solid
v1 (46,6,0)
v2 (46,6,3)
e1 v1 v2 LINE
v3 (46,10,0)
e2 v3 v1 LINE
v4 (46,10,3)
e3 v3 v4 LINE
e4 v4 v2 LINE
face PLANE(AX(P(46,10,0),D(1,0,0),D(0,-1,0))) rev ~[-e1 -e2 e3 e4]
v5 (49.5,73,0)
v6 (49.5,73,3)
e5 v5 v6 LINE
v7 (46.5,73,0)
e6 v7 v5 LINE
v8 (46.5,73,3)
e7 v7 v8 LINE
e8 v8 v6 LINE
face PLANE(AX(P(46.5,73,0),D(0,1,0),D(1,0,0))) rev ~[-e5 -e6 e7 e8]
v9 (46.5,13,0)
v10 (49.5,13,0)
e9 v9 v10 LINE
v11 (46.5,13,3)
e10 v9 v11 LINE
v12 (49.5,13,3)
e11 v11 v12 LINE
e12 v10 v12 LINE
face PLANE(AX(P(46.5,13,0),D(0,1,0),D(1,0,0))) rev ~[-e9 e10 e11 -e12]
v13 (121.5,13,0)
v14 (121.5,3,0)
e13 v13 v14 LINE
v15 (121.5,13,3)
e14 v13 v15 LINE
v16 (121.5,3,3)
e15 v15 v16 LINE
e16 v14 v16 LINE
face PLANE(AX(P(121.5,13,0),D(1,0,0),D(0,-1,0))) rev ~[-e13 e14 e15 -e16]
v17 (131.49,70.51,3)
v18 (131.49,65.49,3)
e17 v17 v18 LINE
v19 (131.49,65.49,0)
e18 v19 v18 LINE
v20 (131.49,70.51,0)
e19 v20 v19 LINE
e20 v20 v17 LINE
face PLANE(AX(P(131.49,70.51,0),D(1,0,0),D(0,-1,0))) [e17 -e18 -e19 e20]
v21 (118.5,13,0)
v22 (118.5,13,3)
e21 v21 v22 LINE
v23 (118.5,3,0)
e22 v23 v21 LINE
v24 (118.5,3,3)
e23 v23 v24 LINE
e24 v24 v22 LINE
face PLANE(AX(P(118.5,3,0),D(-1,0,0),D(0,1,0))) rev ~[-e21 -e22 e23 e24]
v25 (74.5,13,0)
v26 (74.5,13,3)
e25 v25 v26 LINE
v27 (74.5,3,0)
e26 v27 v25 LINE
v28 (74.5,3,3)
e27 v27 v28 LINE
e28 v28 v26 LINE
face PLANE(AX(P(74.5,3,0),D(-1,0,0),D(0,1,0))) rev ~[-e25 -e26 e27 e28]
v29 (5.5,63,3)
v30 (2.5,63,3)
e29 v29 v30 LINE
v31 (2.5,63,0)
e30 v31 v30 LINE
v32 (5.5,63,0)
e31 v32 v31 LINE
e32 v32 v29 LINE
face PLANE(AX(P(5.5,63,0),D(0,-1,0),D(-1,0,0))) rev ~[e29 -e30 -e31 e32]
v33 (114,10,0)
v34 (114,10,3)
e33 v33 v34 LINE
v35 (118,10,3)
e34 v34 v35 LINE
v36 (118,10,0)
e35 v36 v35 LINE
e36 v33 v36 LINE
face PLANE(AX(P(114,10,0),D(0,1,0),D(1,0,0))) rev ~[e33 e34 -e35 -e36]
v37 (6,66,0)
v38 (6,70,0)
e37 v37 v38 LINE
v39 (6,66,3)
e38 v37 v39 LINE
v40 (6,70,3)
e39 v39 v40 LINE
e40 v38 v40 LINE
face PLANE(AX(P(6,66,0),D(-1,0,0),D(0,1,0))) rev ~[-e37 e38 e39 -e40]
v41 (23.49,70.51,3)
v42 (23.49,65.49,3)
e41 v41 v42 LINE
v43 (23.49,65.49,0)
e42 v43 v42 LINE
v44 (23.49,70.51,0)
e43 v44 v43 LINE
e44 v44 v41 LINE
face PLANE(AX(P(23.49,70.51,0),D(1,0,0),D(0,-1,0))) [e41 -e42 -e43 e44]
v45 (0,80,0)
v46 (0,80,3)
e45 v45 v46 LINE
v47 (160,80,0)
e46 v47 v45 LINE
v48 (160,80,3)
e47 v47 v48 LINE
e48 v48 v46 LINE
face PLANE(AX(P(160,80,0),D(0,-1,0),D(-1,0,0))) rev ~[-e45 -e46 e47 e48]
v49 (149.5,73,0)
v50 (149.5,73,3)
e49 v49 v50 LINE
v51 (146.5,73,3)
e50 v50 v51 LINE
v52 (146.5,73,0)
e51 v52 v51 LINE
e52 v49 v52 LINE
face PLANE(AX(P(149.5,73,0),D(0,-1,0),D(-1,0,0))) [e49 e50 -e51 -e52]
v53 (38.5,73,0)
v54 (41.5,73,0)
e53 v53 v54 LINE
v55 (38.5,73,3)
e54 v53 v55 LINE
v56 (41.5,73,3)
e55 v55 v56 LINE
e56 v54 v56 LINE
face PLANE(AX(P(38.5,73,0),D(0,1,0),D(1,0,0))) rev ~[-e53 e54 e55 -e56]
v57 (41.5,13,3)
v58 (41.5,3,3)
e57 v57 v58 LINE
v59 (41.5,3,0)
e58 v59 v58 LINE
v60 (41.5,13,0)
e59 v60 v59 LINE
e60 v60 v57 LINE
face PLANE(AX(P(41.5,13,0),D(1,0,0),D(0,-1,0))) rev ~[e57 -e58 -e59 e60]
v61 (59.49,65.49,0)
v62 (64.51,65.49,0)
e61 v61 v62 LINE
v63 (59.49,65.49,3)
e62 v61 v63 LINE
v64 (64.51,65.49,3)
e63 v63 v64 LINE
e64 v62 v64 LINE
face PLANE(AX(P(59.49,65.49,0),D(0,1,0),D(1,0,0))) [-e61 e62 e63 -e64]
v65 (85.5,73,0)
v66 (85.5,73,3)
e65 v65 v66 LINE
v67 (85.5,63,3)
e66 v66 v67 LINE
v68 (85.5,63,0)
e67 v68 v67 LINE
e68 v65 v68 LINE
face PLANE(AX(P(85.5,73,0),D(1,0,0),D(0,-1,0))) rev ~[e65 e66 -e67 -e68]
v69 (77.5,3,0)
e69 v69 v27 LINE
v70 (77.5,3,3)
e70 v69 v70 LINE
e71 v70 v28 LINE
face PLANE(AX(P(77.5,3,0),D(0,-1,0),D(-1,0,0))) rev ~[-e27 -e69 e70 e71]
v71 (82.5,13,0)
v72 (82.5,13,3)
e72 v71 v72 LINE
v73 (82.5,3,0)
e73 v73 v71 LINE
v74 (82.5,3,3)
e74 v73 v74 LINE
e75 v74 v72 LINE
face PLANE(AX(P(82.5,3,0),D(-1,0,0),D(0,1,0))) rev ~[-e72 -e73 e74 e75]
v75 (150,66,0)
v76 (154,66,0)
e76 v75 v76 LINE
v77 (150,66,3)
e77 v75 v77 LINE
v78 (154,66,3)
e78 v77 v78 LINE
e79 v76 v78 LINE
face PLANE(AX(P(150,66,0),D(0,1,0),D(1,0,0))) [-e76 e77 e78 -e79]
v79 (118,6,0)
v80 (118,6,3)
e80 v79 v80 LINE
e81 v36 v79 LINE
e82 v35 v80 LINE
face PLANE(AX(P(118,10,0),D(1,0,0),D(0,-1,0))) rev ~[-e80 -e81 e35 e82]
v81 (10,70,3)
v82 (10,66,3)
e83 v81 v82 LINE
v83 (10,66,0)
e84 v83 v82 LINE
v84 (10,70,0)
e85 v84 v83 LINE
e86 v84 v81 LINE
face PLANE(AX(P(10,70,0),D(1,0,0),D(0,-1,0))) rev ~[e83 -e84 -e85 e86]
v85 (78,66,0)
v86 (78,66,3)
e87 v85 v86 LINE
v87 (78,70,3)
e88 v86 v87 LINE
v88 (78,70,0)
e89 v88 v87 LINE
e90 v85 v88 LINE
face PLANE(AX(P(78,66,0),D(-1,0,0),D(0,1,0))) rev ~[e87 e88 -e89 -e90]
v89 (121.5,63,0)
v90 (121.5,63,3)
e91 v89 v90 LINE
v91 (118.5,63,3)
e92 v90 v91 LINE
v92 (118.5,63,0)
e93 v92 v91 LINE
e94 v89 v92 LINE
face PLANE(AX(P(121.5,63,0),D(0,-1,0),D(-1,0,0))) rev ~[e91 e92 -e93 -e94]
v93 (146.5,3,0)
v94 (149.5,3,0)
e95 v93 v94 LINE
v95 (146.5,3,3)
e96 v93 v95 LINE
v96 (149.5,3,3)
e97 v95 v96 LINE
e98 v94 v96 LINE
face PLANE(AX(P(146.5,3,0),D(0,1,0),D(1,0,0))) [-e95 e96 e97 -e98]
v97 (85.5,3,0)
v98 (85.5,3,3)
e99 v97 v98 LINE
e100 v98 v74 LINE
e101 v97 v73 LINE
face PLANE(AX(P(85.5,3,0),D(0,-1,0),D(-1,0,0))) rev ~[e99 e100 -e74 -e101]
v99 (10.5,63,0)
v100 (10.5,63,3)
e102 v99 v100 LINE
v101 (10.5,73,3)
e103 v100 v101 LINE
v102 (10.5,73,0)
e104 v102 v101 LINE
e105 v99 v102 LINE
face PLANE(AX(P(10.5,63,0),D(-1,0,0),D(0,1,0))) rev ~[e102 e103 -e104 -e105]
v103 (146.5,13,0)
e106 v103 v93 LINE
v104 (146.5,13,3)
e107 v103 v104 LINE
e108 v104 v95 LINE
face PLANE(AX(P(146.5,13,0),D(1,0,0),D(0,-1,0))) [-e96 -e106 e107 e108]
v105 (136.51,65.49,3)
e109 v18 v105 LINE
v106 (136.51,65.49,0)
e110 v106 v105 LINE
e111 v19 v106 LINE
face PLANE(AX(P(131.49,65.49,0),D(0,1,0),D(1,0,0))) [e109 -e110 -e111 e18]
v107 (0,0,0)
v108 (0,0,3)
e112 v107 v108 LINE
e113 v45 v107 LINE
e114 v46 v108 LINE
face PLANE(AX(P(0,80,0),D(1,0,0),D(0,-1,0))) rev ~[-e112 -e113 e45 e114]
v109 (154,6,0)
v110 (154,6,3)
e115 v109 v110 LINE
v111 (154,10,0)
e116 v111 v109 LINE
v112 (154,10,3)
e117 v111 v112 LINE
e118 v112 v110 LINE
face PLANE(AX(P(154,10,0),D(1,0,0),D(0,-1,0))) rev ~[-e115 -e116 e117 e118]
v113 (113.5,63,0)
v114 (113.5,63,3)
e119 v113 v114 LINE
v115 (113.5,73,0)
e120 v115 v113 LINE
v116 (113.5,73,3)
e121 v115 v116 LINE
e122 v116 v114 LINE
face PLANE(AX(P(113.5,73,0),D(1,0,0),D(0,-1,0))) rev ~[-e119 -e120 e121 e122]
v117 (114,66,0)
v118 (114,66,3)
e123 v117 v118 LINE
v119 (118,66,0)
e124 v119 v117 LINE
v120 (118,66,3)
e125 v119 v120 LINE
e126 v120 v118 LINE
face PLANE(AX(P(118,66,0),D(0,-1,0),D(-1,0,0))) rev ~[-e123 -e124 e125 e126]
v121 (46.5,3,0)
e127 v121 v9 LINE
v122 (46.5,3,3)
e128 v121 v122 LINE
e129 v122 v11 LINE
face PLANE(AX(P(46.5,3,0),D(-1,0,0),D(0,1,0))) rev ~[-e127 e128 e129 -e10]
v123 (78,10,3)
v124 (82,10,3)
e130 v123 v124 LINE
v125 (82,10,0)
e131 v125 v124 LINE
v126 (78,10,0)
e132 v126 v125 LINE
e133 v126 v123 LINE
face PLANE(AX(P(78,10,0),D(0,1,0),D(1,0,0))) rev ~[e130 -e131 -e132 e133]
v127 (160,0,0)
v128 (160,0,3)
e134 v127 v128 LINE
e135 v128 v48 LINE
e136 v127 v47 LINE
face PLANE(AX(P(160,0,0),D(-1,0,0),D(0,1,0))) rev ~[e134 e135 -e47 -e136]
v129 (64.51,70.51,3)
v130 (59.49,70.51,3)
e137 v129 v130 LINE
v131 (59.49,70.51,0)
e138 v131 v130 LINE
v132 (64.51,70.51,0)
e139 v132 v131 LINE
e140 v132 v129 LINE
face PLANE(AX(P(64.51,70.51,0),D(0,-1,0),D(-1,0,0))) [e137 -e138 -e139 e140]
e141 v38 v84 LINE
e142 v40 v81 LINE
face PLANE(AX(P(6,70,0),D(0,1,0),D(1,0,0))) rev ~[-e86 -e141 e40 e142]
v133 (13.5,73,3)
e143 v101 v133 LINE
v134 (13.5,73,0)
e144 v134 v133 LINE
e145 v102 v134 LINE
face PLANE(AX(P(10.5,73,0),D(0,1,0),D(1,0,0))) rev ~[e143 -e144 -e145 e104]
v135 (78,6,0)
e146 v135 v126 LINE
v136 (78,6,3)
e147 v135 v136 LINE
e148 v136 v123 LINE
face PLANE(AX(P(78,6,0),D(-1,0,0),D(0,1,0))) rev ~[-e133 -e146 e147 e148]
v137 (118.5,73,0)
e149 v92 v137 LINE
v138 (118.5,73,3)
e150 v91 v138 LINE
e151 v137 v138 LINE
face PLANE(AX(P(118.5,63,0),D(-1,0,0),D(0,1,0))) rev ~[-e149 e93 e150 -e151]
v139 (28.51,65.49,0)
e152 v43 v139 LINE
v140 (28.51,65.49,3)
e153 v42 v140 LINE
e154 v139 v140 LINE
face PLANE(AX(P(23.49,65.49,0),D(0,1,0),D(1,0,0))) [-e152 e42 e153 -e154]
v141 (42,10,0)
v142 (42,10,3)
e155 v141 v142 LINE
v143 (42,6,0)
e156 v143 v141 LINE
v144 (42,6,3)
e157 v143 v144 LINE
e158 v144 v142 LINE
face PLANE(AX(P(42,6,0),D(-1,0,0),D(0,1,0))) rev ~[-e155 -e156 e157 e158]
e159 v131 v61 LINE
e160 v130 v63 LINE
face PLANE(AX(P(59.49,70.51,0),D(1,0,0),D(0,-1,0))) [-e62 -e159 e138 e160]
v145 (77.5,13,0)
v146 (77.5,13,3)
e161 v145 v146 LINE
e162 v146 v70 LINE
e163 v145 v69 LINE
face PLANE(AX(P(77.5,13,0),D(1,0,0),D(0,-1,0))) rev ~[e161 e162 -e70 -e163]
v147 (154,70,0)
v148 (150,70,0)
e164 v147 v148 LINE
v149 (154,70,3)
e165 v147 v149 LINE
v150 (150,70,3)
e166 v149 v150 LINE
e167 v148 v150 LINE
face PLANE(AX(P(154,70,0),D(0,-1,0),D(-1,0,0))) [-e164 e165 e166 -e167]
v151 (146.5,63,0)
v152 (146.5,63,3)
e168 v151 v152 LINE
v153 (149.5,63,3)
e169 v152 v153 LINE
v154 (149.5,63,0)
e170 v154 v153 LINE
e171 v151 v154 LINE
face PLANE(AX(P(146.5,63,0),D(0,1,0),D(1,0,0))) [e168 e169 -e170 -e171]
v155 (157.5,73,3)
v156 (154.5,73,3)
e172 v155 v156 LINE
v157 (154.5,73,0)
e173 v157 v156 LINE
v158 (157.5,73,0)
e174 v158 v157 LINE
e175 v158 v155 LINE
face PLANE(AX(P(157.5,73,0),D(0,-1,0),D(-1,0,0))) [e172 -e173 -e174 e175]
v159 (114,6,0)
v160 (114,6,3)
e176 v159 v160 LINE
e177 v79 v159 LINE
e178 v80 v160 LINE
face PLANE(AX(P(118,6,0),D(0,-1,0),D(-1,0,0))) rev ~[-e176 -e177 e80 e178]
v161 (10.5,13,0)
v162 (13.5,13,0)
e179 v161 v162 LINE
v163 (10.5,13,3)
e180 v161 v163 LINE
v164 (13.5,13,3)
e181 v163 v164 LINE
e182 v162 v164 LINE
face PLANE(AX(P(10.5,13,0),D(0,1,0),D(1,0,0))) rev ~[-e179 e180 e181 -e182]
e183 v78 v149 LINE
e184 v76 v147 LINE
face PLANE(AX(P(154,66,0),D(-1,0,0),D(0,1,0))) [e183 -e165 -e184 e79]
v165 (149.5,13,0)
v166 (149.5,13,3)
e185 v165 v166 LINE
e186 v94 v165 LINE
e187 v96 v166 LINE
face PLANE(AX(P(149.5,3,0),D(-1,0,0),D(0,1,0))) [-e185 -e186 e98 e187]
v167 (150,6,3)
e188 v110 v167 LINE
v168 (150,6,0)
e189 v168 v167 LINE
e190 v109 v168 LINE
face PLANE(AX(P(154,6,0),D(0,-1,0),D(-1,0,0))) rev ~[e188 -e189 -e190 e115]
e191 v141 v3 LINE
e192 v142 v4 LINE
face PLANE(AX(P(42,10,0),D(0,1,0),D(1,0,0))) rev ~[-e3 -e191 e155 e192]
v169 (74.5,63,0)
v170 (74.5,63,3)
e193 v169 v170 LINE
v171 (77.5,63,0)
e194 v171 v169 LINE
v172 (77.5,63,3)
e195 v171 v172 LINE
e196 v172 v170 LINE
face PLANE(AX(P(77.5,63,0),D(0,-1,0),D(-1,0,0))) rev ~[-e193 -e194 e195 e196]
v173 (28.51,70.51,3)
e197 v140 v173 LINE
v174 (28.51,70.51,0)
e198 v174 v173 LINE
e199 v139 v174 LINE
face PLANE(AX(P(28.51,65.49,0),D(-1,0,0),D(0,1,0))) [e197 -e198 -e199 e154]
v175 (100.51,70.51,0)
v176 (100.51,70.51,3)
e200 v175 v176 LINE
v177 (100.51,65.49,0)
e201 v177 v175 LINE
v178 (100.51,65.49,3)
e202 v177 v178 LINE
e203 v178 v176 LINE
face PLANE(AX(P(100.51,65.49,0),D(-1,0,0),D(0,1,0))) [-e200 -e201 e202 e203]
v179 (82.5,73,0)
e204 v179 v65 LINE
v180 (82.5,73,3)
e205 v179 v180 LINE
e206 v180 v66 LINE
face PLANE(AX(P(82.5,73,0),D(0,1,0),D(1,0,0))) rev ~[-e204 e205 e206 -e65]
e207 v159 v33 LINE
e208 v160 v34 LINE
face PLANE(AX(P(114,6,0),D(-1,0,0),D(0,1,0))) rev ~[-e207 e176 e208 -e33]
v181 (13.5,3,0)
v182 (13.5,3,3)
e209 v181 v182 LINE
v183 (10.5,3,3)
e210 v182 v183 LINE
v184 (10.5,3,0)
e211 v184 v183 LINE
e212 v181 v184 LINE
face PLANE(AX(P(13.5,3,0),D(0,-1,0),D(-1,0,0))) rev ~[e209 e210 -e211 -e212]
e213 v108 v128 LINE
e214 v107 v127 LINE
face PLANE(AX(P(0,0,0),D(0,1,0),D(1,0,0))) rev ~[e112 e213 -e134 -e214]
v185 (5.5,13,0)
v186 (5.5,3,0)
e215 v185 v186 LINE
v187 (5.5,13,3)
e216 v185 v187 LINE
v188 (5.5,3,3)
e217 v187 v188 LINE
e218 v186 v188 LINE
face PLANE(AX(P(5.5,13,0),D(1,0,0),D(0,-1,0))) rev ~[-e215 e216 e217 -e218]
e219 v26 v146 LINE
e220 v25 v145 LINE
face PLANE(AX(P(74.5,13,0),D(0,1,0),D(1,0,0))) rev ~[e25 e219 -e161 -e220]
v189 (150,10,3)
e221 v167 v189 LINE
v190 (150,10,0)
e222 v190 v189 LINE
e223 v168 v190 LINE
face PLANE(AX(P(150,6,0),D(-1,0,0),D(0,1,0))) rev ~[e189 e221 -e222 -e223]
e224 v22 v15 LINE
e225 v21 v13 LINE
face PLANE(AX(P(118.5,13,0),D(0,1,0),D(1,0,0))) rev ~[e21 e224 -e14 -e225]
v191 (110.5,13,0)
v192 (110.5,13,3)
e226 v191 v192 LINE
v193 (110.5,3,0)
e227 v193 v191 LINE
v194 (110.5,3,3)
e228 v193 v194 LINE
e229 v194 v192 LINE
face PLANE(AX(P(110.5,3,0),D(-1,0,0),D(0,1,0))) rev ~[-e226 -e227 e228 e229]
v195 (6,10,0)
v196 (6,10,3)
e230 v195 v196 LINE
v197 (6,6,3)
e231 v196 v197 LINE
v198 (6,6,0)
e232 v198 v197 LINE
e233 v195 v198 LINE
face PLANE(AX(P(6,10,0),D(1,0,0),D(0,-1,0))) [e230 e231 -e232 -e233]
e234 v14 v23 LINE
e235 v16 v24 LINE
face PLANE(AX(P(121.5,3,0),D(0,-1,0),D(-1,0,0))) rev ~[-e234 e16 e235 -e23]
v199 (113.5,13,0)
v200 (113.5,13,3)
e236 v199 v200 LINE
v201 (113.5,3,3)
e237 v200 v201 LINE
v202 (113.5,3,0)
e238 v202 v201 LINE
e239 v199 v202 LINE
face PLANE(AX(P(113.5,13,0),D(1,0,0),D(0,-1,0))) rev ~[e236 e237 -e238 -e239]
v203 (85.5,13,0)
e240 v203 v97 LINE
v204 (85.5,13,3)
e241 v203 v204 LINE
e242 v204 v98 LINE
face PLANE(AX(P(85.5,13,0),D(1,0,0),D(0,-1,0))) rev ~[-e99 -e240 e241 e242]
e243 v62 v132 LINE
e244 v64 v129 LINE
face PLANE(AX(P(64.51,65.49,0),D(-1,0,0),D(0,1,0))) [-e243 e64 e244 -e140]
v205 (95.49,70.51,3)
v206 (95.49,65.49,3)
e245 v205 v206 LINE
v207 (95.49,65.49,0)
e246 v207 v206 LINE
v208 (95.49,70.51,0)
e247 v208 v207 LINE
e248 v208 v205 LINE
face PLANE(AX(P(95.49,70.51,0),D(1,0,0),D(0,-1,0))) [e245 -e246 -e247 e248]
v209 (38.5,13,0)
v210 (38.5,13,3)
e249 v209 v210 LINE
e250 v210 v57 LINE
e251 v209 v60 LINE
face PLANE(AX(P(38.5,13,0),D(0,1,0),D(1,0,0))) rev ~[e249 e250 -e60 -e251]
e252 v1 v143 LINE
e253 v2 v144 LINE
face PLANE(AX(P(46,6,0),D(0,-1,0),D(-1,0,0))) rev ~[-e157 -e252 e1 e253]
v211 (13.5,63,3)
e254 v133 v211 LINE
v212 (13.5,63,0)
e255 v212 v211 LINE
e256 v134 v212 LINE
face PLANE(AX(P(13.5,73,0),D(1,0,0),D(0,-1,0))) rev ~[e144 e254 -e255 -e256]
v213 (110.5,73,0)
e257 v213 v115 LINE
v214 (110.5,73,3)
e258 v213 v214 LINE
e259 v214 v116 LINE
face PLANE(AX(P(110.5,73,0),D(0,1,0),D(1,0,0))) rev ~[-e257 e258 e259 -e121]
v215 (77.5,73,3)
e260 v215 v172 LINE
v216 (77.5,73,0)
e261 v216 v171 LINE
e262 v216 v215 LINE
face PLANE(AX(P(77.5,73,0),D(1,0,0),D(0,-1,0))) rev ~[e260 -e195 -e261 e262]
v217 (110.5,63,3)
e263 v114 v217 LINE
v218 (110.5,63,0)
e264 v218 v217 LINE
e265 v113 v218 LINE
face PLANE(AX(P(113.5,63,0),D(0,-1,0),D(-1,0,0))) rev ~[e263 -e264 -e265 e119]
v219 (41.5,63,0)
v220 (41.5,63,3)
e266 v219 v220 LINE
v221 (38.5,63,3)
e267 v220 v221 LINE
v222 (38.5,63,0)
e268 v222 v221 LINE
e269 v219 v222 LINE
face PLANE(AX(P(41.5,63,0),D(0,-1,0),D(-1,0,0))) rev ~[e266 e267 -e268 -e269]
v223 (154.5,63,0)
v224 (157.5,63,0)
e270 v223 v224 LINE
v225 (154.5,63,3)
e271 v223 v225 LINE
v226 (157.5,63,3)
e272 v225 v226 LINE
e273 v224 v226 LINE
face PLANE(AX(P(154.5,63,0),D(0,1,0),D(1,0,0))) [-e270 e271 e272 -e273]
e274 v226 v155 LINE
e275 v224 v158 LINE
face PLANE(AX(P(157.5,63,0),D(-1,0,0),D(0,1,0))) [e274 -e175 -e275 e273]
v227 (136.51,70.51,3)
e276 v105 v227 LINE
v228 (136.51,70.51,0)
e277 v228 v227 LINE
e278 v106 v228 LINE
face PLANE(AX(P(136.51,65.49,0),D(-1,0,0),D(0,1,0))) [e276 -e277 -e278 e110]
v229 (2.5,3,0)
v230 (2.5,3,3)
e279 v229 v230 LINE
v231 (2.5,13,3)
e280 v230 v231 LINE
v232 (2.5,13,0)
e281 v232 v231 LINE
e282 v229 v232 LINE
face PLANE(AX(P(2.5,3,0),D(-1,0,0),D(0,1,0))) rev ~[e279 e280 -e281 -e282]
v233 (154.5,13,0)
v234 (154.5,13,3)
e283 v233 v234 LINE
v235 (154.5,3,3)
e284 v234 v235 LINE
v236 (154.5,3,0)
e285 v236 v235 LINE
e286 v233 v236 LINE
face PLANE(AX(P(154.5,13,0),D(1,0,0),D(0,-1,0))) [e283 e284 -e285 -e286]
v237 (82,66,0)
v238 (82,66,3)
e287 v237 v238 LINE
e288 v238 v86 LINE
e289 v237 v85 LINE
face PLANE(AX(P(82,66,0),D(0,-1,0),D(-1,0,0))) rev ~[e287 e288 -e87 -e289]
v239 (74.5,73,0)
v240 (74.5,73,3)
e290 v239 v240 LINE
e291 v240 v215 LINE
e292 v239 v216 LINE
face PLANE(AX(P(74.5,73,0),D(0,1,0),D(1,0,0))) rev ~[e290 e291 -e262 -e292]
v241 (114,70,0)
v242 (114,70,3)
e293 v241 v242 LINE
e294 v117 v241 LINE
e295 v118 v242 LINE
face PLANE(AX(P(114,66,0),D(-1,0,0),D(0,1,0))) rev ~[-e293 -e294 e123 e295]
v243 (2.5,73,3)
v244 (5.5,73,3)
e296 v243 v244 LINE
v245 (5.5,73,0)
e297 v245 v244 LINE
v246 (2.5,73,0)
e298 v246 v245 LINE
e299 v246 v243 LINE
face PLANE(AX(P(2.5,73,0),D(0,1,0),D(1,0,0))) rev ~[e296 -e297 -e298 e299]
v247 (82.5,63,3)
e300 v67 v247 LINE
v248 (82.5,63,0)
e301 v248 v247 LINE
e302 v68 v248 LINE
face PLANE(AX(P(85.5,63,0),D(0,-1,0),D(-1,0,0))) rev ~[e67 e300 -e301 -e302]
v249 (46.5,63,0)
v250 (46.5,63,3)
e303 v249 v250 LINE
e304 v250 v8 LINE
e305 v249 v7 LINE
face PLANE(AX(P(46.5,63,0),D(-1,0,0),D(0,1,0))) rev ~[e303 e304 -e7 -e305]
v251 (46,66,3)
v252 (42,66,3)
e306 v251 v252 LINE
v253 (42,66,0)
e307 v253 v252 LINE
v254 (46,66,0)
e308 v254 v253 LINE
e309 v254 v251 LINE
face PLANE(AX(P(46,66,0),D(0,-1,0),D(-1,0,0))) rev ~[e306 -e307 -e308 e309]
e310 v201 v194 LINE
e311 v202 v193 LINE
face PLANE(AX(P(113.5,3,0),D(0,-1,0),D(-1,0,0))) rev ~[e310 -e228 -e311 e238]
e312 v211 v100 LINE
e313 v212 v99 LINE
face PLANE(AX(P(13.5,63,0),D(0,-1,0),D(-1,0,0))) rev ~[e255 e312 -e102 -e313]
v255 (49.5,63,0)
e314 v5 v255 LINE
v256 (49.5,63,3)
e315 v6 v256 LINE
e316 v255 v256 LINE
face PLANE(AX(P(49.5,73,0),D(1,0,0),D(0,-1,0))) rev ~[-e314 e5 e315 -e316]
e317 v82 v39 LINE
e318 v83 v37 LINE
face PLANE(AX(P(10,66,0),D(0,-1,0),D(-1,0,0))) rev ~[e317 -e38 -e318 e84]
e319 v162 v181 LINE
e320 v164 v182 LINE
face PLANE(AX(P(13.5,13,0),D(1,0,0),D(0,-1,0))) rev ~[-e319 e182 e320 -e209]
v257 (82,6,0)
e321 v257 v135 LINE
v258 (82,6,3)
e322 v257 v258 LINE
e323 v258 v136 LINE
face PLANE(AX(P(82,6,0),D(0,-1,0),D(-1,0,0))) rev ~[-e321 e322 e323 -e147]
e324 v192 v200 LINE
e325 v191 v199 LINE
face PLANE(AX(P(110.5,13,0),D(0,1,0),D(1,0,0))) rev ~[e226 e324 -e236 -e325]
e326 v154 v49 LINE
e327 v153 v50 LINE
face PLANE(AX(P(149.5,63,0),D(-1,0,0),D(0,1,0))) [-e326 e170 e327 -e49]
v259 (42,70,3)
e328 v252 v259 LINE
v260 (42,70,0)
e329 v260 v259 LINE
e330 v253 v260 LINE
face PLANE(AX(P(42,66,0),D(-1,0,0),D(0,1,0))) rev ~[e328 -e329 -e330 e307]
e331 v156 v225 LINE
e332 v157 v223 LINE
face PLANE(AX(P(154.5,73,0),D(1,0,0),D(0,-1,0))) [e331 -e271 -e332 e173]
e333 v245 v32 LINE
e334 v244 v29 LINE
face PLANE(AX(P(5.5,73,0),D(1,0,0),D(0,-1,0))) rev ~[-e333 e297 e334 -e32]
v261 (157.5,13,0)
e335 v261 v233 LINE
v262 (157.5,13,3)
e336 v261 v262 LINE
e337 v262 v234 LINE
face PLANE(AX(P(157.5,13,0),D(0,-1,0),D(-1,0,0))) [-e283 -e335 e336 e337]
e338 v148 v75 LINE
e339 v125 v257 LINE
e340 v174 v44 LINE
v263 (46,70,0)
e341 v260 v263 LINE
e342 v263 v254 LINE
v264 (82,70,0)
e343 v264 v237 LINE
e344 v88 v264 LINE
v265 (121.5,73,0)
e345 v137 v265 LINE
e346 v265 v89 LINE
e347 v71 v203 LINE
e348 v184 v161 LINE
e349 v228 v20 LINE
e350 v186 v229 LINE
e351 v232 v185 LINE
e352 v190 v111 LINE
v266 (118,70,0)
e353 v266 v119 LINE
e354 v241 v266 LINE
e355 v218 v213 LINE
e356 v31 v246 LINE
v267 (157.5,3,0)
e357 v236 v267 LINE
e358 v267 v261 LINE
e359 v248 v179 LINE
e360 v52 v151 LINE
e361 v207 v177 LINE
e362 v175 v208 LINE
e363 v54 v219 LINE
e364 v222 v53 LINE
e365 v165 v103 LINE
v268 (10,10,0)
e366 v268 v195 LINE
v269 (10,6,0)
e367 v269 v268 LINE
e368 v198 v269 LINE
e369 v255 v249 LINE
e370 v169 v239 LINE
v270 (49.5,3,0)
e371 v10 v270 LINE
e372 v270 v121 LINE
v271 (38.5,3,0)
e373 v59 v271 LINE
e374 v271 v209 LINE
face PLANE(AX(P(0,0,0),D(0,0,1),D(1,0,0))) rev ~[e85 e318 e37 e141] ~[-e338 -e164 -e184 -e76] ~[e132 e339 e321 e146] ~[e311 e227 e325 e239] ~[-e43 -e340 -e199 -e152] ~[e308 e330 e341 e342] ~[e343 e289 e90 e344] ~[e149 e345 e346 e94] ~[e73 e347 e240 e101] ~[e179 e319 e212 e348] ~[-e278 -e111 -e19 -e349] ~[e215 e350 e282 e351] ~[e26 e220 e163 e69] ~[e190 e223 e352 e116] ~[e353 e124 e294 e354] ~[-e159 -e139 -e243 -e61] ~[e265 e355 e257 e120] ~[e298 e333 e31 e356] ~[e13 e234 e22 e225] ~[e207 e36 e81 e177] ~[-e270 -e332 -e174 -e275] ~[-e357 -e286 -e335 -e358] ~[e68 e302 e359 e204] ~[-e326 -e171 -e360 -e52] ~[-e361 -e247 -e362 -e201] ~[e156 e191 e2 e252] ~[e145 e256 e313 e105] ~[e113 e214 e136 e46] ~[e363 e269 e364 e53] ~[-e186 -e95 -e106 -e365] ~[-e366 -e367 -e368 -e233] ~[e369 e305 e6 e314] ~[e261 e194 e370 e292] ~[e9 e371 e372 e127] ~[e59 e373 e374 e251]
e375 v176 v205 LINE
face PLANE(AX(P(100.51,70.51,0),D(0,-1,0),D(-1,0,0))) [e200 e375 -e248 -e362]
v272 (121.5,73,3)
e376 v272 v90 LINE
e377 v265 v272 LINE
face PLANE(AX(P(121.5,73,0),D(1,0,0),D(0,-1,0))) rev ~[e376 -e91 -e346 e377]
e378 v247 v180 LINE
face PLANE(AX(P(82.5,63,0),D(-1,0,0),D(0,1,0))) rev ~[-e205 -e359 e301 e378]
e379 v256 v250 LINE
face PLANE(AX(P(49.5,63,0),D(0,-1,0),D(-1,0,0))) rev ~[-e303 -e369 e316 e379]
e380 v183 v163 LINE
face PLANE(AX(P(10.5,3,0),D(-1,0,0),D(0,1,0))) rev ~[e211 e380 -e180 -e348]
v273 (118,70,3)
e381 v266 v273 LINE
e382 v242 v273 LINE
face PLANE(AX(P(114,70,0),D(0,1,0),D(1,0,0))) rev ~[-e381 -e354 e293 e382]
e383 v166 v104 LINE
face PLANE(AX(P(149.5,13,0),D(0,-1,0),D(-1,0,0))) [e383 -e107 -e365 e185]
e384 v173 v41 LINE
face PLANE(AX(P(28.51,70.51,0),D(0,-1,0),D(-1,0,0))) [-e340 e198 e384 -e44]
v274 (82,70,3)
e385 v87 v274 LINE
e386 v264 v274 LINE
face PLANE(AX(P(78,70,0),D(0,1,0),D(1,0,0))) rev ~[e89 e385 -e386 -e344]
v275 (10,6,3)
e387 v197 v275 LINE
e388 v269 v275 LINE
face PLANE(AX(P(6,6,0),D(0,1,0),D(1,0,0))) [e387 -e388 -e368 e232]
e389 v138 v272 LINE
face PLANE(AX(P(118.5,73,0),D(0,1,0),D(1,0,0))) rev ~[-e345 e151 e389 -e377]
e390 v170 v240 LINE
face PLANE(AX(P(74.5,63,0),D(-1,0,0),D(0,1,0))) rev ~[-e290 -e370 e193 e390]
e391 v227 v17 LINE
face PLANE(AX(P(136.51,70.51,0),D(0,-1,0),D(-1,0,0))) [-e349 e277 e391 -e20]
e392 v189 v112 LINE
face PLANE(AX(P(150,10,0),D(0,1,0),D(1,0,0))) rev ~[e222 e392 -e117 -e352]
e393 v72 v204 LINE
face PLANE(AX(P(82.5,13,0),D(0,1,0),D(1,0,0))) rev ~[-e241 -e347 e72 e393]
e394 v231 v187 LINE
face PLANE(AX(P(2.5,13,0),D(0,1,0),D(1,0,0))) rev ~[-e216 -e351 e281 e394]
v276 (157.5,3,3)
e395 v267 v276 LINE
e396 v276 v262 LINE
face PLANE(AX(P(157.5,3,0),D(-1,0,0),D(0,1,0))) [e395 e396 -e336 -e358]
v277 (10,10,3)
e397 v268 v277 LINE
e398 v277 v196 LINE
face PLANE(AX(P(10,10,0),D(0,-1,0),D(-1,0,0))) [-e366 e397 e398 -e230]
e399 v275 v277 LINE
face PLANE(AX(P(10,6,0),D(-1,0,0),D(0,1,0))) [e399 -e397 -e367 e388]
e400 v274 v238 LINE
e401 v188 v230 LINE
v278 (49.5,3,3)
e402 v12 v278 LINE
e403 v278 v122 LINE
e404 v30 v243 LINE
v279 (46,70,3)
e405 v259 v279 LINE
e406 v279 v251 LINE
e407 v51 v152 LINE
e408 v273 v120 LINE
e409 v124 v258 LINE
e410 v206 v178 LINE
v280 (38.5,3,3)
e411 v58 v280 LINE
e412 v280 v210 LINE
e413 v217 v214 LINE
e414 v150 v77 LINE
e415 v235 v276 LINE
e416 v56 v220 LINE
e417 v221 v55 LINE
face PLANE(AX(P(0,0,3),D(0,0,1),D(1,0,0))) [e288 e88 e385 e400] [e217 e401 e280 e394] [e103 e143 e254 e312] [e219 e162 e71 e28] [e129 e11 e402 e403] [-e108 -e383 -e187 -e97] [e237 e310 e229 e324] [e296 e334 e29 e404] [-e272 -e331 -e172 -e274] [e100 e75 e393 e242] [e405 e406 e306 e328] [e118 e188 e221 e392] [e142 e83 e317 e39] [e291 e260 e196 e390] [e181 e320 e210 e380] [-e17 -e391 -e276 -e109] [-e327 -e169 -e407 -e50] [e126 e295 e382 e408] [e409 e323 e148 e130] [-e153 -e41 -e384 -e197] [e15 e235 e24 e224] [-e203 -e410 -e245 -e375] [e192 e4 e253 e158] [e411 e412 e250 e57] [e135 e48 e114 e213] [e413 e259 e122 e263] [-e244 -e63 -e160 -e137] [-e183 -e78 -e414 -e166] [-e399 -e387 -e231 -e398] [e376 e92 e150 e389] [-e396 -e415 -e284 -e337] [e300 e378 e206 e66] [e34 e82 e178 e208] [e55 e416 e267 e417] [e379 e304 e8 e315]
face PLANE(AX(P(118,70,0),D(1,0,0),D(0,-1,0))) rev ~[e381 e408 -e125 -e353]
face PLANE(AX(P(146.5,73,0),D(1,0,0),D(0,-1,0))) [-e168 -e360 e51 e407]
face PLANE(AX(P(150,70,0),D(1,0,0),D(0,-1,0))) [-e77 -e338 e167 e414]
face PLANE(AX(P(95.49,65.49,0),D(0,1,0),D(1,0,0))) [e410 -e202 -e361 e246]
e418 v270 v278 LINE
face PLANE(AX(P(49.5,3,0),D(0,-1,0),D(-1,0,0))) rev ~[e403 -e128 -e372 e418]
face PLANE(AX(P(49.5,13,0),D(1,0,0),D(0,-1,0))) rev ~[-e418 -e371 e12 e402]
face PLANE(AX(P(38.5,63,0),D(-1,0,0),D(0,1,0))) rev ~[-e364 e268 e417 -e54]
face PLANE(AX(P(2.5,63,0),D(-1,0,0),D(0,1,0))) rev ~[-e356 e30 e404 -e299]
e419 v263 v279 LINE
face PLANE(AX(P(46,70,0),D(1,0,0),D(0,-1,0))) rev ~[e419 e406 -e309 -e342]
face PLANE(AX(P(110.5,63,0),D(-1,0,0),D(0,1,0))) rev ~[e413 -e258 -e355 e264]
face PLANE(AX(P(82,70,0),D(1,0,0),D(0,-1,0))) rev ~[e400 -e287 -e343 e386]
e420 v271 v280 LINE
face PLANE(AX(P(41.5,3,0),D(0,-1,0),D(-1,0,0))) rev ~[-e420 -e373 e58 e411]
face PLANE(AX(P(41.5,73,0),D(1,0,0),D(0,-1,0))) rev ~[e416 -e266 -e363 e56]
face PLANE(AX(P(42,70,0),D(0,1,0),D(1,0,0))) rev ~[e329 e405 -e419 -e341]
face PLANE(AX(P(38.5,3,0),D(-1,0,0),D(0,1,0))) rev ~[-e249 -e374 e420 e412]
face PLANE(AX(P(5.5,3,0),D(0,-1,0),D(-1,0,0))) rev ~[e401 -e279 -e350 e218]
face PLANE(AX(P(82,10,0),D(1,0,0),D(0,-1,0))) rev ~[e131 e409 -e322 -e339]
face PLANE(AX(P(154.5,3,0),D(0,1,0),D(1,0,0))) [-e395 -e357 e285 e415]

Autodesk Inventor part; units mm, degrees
ref_plane "YZ Plane" through (0, 0, 0) normal (1, 0, 0) x (0, 1, 0)
ref_plane "XZ Plane" through (0, 0, 0) normal (0, 1, 0) x (-1, 0, 0)
ref_plane "XY Plane" through (0, 0, 0) normal (0, 0, 1) x (1, 0, 0)
sketch "Sketch1" plane through (0, 0, 0) normal (0, 0, 1) x (1, 0, 0)
  line L0 (0, 0) -> (160, 0)
  line L1 (160, 0) -> (160, 80)
  line L2 (160, 80) -> (0, 80)
  line L3 (0, 80) -> (0, 0)
  line L4 (2.5, 13) -> (5.5, 13)
  line L5 (5.5, 13) -> (5.5, 3)
  line L6 (5.5, 3) -> (2.5, 3)
  line L7 (2.5, 3) -> (2.5, 13)
  line L8 (10.5, 13) -> (13.5, 13)
  line L9 (13.5, 13) -> (13.5, 3)
  line L10 (13.5, 3) -> (10.5, 3)
  line L11 (10.5, 3) -> (10.5, 13)
  line L12 (0, 40) -> (160, 40) construction
  line L13 (80, 80) -> (80, 0) construction
  line L14 (0, 0) -> (0, 80)
  line L15 (2.5, 77) -> (2.5, 67) construction
  line L16 (13.5, 77) -> (10.5, 77)
  line L17 (157.5, 13) -> (154.5, 13)
  line L18 (154.5, 13) -> (154.5, 3)
  line L19 (154.5, 3) -> (157.5, 3)
  line L20 (157.5, 3) -> (157.5, 13)
  line L21 (149.5, 13) -> (146.5, 13)
  line L22 (146.5, 13) -> (146.5, 3)
  line L23 (146.5, 3) -> (149.5, 3)
  line L24 (149.5, 3) -> (149.5, 13)
  line L25 (2.5, 77) -> (157.5, 77) construction
  line L26 (157.5, 77) -> (157.5, 3) construction
  line L27 (157.5, 3) -> (2.5, 3) construction
  line L28 (2.5, 3) -> (2.5, 77) construction
  line L29 (5.5, 13) -> (5.5, 3)
  line L30 (6, 6) -> (10, 6)
  line L31 (10, 6) -> (10, 10)
  line L32 (10, 10) -> (6, 10)
  line L33 (6, 10) -> (6, 6)
  line L34 (23.49, 65.49) -> (28.51, 65.49)
  line L35 (28.51, 65.49) -> (28.51, 70.51)
  line L36 (28.51, 70.51) -> (23.49, 70.51)
  line L37 (23.49, 70.51) -> (23.49, 65.49)
  line L38 (59.49, 65.49) -> (64.51, 65.49)
  line L39 (64.51, 70.51) -> (59.49, 70.51)
  line L40 (64.51, 65.49) -> (64.51, 70.51)
  line L41 (59.49, 70.51) -> (59.49, 65.49)
  line L42 (95.49, 65.49) -> (100.51, 65.49)
  line L43 (100.51, 70.51) -> (95.49, 70.51)
  line L44 (100.51, 65.49) -> (100.51, 70.51)
  line L45 (95.49, 70.51) -> (95.49, 65.49)
  line L46 (131.49, 65.49) -> (136.51, 65.49)
  line L47 (136.51, 70.51) -> (131.49, 70.51)
  line L48 (136.51, 65.49) -> (136.51, 70.51)
  line L49 (131.49, 70.51) -> (131.49, 65.49)
  line L50 (2.5, 73) -> (5.5, 73)
  line L51 (5.5, 73) -> (5.5, 63)
  line L52 (5.5, 63) -> (2.5, 63)
  line L53 (2.5, 63) -> (2.5, 73)
  line L54 (6, 70) -> (10, 70)
  line L55 (10, 70) -> (10, 66)
  line L56 (10, 66) -> (6, 66)
  line L57 (6, 66) -> (6, 70)
  line L58 (10.5, 73) -> (13.5, 73)
  line L59 (13.5, 73) -> (13.5, 63)
  line L60 (13.5, 63) -> (10.5, 63)
  line L61 (10.5, 63) -> (10.5, 73)
  line L62 (157.5, 77) -> (157.5, 67) construction
  line L63 (157.5, 3) -> (157.5, 77) construction
  line L64 (157.5, 73) -> (154.5, 73)
  line L65 (154.5, 73) -> (154.5, 63)
  line L66 (154.5, 63) -> (157.5, 63)
  line L67 (157.5, 63) -> (157.5, 73)
  line L68 (154, 70) -> (150, 70)
  line L69 (150, 70) -> (150, 66)
  line L70 (150, 66) -> (154, 66)
  line L71 (154, 66) -> (154, 70)
  line L72 (149.5, 73) -> (146.5, 73)
  line L73 (146.5, 73) -> (146.5, 63)
  line L74 (146.5, 63) -> (149.5, 63)
  line L75 (149.5, 63) -> (149.5, 73)
  line L76 (154.5, 13) -> (154.5, 3)
  line L77 (150, 6) -> (150, 10)
  line L78 (150, 10) -> (154, 10)
  line L79 (154, 10) -> (154, 6)
  line L80 (154, 6) -> (150, 6)
  line L81 (38.5, 77) -> (38.5, 67) construction
  line L82 (46, 70) -> (46, 66)
  line L83 (46.5, 63) -> (46.5, 73)
  line L84 (42, 70) -> (46, 70)
  line L85 (42, 66) -> (42, 70)
  line L86 (41.5, 73) -> (41.5, 63)
  line L87 (38.5, 73) -> (41.5, 73)
  line L88 (38.5, 63) -> (38.5, 73)
  line L89 (38.5, 3) -> (38.5, 77) construction
  line L90 (41.5, 63) -> (38.5, 63)
  line L91 (46, 66) -> (42, 66)
  line L92 (49.5, 63) -> (46.5, 63)
  line L93 (49.5, 73) -> (49.5, 63)
  line L94 (46.5, 73) -> (49.5, 73)
  line L95 (74.5, 77) -> (74.5, 67) construction
  line L96 (82, 70) -> (82, 66)
  line L97 (82.5, 63) -> (82.5, 73)
  line L98 (78, 70) -> (82, 70)
  line L99 (78, 66) -> (78, 70)
  line L100 (77.5, 73) -> (77.5, 63)
  line L101 (74.5, 73) -> (77.5, 73)
  line L102 (74.5, 63) -> (74.5, 73)
  line L103 (74.5, 3) -> (74.5, 77) construction
  line L104 (77.5, 63) -> (74.5, 63)
  line L105 (82, 66) -> (78, 66)
  line L106 (85.5, 63) -> (82.5, 63)
  line L107 (85.5, 73) -> (85.5, 63)
  line L108 (82.5, 73) -> (85.5, 73)
  line L109 (110.5, 77) -> (110.5, 67) construction
  line L110 (118, 70) -> (118, 66)
  line L111 (118.5, 63) -> (118.5, 73)
  line L112 (114, 70) -> (118, 70)
  line L113 (114, 66) -> (114, 70)
  line L114 (113.5, 73) -> (113.5, 63)
  line L115 (110.5, 73) -> (113.5, 73)
  line L116 (110.5, 63) -> (110.5, 73)
  line L117 (110.5, 3) -> (110.5, 77) construction
  line L118 (113.5, 63) -> (110.5, 63)
  line L119 (118, 66) -> (114, 66)
  line L120 (121.5, 63) -> (118.5, 63)
  line L121 (121.5, 73) -> (121.5, 63)
  line L122 (118.5, 73) -> (121.5, 73)
  line L123 (146.5, 77) -> (146.5, 67) construction
  line L124 (154, 70) -> (154, 66)
  line L125 (154.5, 63) -> (154.5, 73)
  line L126 (150, 70) -> (154, 70)
  line L127 (150, 66) -> (150, 70)
  line L128 (149.5, 73) -> (149.5, 63)
  line L129 (146.5, 73) -> (149.5, 73)
  line L130 (146.5, 63) -> (146.5, 73)
  line L131 (146.5, 3) -> (146.5, 77) construction
  line L132 (149.5, 63) -> (146.5, 63)
  line L133 (154, 66) -> (150, 66)
  line L134 (157.5, 63) -> (154.5, 63)
  line L135 (157.5, 73) -> (157.5, 63)
  line L136 (154.5, 73) -> (157.5, 73)
  line L137 (2.5, 17) -> (2.5, 7) construction
  line L138 (10, 10) -> (10, 6)
  line L139 (10.5, 3) -> (10.5, 13)
  line L140 (6, 10) -> (10, 10)
  line L141 (6, 6) -> (6, 10)
  line L142 (5.5, 13) -> (5.5, 3)
  line L143 (2.5, 13) -> (5.5, 13)
  line L144 (2.5, 3) -> (2.5, 13)
  line L145 (2.5, -57) -> (2.5, 17) construction
  line L146 (5.5, 3) -> (2.5, 3)
  line L147 (10, 6) -> (6, 6)
  line L148 (13.5, 3) -> (10.5, 3)
  line L149 (13.5, 13) -> (13.5, 3)
  line L150 (10.5, 13) -> (13.5, 13)
  line L151 (38.5, 17) -> (38.5, 7) construction
  line L152 (46, 10) -> (46, 6)
  line L153 (46.5, 3) -> (46.5, 13)
  line L154 (42, 10) -> (46, 10)
  line L155 (42, 6) -> (42, 10)
  line L156 (41.5, 13) -> (41.5, 3)
  line L157 (38.5, 13) -> (41.5, 13)
  line L158 (38.5, 3) -> (38.5, 13)
  line L159 (38.5, -57) -> (38.5, 17) construction
  line L160 (41.5, 3) -> (38.5, 3)
  line L161 (46, 6) -> (42, 6)
  line L162 (49.5, 3) -> (46.5, 3)
  line L163 (49.5, 13) -> (49.5, 3)
  line L164 (46.5, 13) -> (49.5, 13)
  line L165 (74.5, 17) -> (74.5, 7) construction
  line L166 (82, 10) -> (82, 6)
  line L167 (82.5, 3) -> (82.5, 13)
  line L168 (78, 10) -> (82, 10)
  line L169 (78, 6) -> (78, 10)
  line L170 (77.5, 13) -> (77.5, 3)
  line L171 (74.5, 13) -> (77.5, 13)
  line L172 (74.5, 3) -> (74.5, 13)
  line L173 (74.5, -57) -> (74.5, 17) construction
  line L174 (77.5, 3) -> (74.5, 3)
  line L175 (82, 6) -> (78, 6)
  line L176 (85.5, 3) -> (82.5, 3)
  line L177 (85.5, 13) -> (85.5, 3)
  line L178 (82.5, 13) -> (85.5, 13)
  line L179 (110.5, 17) -> (110.5, 7) construction
  line L180 (118, 10) -> (118, 6)
  line L181 (118.5, 3) -> (118.5, 13)
  line L182 (114, 10) -> (118, 10)
  line L183 (114, 6) -> (114, 10)
  line L184 (113.5, 13) -> (113.5, 3)
  line L185 (110.5, 13) -> (113.5, 13)
  line L186 (110.5, 3) -> (110.5, 13)
  line L187 (110.5, -57) -> (110.5, 17) construction
  line L188 (113.5, 3) -> (110.5, 3)
  line L189 (118, 6) -> (114, 6)
  line L190 (121.5, 3) -> (118.5, 3)
  line L191 (121.5, 13) -> (121.5, 3)
  line L192 (118.5, 13) -> (121.5, 13)
  line L193 (146.5, 17) -> (146.5, 7) construction
  line L194 (154, 10) -> (154, 6)
  line L195 (154.5, 3) -> (154.5, 13)
  line L196 (150, 10) -> (154, 10)
  line L197 (150, 6) -> (150, 10)
  line L198 (149.5, 13) -> (149.5, 3)
  line L199 (146.5, 13) -> (149.5, 13)
  line L200 (146.5, 3) -> (146.5, 13)
  line L201 (146.5, -57) -> (146.5, 17) construction
  line L202 (149.5, 3) -> (146.5, 3)
  line L203 (154, 6) -> (150, 6)
  line L204 (157.5, 3) -> (154.5, 3)
  line L205 (157.5, 13) -> (157.5, 3)
  line L206 (154.5, 13) -> (157.5, 13)
  point P0 (23.49, 68)
  point P1 (26, 70.51)
  point P2 (62, 70.51)
  point P3 (59.49, 68)
  point P4 (98, 70.51)
  point P5 (95.49, 68)
  point P6 (134, 70.51)
  point P7 (131.49, 68)
  point P8 (2.5, 72)
  point P9 (5.5, 68)
  point P10 (6, 68)
  point P11 (8, 66)
  point P12 (8, 10)
  point P13 (157.5, 72)
  point P14 (154.5, 68)
  point P15 (154, 68)
  point P16 (152, 66)
  point P17 (38.5, 72)
  point P18 (44, 66)
  point P19 (42, 68)
  point P20 (41.5, 68)
  point P21 (74.5, 72)
  point P22 (80, 66)
  point P23 (78, 68)
  point P24 (77.5, 68)
  point P25 (110.5, 72)
  point P26 (116, 66)
  point P27 (114, 68)
  point P28 (113.5, 68)
  point P29 (146.5, 72)
  point P30 (152, 66)
  point P31 (150, 68)
  point P32 (149.5, 68)
  point P33 (2.5, 12)
  point P34 (8, 6)
  point P35 (6, 8)
  point P36 (5.5, 8)
  point P37 (38.5, 12)
  point P38 (44, 6)
  point P39 (42, 8)
  point P40 (41.5, 8)
  point P41 (74.5, 12)
  point P42 (80, 6)
  point P43 (78, 8)
  point P44 (77.5, 8)
  point P45 (110.5, 12)
  point P46 (116, 6)
  point P47 (114, 8)
  point P48 (113.5, 8)
  point P49 (146.5, 12)
  point P50 (152, 6)
  point P51 (150, 8)
  point P52 (149.5, 8)
  dimension "d0" = 80
  dimension "d1" = 160
  dimension "d2" = 3
  dimension "d3" = 2.5
  dimension "d4" = 3
  dimension "d5" = 10
  dimension "d6" = 5
  dimension "d11" = 5.02
  dimension "d12" = 5.02
  dimension "d13" = 23.5
  dimension "d16" = 36
  dimension "d23" = 70
  dimension "d24" = 3
  dimension "d25" = 3
  dimension "d26" = 0.5
  dimension "d27" = 0.5
  dimension "d30" = 36
  dimension "d33" = 60
extrude "Extrusion1" add sketch "Sketch1" along normal blind 3
properties part number "techo"
